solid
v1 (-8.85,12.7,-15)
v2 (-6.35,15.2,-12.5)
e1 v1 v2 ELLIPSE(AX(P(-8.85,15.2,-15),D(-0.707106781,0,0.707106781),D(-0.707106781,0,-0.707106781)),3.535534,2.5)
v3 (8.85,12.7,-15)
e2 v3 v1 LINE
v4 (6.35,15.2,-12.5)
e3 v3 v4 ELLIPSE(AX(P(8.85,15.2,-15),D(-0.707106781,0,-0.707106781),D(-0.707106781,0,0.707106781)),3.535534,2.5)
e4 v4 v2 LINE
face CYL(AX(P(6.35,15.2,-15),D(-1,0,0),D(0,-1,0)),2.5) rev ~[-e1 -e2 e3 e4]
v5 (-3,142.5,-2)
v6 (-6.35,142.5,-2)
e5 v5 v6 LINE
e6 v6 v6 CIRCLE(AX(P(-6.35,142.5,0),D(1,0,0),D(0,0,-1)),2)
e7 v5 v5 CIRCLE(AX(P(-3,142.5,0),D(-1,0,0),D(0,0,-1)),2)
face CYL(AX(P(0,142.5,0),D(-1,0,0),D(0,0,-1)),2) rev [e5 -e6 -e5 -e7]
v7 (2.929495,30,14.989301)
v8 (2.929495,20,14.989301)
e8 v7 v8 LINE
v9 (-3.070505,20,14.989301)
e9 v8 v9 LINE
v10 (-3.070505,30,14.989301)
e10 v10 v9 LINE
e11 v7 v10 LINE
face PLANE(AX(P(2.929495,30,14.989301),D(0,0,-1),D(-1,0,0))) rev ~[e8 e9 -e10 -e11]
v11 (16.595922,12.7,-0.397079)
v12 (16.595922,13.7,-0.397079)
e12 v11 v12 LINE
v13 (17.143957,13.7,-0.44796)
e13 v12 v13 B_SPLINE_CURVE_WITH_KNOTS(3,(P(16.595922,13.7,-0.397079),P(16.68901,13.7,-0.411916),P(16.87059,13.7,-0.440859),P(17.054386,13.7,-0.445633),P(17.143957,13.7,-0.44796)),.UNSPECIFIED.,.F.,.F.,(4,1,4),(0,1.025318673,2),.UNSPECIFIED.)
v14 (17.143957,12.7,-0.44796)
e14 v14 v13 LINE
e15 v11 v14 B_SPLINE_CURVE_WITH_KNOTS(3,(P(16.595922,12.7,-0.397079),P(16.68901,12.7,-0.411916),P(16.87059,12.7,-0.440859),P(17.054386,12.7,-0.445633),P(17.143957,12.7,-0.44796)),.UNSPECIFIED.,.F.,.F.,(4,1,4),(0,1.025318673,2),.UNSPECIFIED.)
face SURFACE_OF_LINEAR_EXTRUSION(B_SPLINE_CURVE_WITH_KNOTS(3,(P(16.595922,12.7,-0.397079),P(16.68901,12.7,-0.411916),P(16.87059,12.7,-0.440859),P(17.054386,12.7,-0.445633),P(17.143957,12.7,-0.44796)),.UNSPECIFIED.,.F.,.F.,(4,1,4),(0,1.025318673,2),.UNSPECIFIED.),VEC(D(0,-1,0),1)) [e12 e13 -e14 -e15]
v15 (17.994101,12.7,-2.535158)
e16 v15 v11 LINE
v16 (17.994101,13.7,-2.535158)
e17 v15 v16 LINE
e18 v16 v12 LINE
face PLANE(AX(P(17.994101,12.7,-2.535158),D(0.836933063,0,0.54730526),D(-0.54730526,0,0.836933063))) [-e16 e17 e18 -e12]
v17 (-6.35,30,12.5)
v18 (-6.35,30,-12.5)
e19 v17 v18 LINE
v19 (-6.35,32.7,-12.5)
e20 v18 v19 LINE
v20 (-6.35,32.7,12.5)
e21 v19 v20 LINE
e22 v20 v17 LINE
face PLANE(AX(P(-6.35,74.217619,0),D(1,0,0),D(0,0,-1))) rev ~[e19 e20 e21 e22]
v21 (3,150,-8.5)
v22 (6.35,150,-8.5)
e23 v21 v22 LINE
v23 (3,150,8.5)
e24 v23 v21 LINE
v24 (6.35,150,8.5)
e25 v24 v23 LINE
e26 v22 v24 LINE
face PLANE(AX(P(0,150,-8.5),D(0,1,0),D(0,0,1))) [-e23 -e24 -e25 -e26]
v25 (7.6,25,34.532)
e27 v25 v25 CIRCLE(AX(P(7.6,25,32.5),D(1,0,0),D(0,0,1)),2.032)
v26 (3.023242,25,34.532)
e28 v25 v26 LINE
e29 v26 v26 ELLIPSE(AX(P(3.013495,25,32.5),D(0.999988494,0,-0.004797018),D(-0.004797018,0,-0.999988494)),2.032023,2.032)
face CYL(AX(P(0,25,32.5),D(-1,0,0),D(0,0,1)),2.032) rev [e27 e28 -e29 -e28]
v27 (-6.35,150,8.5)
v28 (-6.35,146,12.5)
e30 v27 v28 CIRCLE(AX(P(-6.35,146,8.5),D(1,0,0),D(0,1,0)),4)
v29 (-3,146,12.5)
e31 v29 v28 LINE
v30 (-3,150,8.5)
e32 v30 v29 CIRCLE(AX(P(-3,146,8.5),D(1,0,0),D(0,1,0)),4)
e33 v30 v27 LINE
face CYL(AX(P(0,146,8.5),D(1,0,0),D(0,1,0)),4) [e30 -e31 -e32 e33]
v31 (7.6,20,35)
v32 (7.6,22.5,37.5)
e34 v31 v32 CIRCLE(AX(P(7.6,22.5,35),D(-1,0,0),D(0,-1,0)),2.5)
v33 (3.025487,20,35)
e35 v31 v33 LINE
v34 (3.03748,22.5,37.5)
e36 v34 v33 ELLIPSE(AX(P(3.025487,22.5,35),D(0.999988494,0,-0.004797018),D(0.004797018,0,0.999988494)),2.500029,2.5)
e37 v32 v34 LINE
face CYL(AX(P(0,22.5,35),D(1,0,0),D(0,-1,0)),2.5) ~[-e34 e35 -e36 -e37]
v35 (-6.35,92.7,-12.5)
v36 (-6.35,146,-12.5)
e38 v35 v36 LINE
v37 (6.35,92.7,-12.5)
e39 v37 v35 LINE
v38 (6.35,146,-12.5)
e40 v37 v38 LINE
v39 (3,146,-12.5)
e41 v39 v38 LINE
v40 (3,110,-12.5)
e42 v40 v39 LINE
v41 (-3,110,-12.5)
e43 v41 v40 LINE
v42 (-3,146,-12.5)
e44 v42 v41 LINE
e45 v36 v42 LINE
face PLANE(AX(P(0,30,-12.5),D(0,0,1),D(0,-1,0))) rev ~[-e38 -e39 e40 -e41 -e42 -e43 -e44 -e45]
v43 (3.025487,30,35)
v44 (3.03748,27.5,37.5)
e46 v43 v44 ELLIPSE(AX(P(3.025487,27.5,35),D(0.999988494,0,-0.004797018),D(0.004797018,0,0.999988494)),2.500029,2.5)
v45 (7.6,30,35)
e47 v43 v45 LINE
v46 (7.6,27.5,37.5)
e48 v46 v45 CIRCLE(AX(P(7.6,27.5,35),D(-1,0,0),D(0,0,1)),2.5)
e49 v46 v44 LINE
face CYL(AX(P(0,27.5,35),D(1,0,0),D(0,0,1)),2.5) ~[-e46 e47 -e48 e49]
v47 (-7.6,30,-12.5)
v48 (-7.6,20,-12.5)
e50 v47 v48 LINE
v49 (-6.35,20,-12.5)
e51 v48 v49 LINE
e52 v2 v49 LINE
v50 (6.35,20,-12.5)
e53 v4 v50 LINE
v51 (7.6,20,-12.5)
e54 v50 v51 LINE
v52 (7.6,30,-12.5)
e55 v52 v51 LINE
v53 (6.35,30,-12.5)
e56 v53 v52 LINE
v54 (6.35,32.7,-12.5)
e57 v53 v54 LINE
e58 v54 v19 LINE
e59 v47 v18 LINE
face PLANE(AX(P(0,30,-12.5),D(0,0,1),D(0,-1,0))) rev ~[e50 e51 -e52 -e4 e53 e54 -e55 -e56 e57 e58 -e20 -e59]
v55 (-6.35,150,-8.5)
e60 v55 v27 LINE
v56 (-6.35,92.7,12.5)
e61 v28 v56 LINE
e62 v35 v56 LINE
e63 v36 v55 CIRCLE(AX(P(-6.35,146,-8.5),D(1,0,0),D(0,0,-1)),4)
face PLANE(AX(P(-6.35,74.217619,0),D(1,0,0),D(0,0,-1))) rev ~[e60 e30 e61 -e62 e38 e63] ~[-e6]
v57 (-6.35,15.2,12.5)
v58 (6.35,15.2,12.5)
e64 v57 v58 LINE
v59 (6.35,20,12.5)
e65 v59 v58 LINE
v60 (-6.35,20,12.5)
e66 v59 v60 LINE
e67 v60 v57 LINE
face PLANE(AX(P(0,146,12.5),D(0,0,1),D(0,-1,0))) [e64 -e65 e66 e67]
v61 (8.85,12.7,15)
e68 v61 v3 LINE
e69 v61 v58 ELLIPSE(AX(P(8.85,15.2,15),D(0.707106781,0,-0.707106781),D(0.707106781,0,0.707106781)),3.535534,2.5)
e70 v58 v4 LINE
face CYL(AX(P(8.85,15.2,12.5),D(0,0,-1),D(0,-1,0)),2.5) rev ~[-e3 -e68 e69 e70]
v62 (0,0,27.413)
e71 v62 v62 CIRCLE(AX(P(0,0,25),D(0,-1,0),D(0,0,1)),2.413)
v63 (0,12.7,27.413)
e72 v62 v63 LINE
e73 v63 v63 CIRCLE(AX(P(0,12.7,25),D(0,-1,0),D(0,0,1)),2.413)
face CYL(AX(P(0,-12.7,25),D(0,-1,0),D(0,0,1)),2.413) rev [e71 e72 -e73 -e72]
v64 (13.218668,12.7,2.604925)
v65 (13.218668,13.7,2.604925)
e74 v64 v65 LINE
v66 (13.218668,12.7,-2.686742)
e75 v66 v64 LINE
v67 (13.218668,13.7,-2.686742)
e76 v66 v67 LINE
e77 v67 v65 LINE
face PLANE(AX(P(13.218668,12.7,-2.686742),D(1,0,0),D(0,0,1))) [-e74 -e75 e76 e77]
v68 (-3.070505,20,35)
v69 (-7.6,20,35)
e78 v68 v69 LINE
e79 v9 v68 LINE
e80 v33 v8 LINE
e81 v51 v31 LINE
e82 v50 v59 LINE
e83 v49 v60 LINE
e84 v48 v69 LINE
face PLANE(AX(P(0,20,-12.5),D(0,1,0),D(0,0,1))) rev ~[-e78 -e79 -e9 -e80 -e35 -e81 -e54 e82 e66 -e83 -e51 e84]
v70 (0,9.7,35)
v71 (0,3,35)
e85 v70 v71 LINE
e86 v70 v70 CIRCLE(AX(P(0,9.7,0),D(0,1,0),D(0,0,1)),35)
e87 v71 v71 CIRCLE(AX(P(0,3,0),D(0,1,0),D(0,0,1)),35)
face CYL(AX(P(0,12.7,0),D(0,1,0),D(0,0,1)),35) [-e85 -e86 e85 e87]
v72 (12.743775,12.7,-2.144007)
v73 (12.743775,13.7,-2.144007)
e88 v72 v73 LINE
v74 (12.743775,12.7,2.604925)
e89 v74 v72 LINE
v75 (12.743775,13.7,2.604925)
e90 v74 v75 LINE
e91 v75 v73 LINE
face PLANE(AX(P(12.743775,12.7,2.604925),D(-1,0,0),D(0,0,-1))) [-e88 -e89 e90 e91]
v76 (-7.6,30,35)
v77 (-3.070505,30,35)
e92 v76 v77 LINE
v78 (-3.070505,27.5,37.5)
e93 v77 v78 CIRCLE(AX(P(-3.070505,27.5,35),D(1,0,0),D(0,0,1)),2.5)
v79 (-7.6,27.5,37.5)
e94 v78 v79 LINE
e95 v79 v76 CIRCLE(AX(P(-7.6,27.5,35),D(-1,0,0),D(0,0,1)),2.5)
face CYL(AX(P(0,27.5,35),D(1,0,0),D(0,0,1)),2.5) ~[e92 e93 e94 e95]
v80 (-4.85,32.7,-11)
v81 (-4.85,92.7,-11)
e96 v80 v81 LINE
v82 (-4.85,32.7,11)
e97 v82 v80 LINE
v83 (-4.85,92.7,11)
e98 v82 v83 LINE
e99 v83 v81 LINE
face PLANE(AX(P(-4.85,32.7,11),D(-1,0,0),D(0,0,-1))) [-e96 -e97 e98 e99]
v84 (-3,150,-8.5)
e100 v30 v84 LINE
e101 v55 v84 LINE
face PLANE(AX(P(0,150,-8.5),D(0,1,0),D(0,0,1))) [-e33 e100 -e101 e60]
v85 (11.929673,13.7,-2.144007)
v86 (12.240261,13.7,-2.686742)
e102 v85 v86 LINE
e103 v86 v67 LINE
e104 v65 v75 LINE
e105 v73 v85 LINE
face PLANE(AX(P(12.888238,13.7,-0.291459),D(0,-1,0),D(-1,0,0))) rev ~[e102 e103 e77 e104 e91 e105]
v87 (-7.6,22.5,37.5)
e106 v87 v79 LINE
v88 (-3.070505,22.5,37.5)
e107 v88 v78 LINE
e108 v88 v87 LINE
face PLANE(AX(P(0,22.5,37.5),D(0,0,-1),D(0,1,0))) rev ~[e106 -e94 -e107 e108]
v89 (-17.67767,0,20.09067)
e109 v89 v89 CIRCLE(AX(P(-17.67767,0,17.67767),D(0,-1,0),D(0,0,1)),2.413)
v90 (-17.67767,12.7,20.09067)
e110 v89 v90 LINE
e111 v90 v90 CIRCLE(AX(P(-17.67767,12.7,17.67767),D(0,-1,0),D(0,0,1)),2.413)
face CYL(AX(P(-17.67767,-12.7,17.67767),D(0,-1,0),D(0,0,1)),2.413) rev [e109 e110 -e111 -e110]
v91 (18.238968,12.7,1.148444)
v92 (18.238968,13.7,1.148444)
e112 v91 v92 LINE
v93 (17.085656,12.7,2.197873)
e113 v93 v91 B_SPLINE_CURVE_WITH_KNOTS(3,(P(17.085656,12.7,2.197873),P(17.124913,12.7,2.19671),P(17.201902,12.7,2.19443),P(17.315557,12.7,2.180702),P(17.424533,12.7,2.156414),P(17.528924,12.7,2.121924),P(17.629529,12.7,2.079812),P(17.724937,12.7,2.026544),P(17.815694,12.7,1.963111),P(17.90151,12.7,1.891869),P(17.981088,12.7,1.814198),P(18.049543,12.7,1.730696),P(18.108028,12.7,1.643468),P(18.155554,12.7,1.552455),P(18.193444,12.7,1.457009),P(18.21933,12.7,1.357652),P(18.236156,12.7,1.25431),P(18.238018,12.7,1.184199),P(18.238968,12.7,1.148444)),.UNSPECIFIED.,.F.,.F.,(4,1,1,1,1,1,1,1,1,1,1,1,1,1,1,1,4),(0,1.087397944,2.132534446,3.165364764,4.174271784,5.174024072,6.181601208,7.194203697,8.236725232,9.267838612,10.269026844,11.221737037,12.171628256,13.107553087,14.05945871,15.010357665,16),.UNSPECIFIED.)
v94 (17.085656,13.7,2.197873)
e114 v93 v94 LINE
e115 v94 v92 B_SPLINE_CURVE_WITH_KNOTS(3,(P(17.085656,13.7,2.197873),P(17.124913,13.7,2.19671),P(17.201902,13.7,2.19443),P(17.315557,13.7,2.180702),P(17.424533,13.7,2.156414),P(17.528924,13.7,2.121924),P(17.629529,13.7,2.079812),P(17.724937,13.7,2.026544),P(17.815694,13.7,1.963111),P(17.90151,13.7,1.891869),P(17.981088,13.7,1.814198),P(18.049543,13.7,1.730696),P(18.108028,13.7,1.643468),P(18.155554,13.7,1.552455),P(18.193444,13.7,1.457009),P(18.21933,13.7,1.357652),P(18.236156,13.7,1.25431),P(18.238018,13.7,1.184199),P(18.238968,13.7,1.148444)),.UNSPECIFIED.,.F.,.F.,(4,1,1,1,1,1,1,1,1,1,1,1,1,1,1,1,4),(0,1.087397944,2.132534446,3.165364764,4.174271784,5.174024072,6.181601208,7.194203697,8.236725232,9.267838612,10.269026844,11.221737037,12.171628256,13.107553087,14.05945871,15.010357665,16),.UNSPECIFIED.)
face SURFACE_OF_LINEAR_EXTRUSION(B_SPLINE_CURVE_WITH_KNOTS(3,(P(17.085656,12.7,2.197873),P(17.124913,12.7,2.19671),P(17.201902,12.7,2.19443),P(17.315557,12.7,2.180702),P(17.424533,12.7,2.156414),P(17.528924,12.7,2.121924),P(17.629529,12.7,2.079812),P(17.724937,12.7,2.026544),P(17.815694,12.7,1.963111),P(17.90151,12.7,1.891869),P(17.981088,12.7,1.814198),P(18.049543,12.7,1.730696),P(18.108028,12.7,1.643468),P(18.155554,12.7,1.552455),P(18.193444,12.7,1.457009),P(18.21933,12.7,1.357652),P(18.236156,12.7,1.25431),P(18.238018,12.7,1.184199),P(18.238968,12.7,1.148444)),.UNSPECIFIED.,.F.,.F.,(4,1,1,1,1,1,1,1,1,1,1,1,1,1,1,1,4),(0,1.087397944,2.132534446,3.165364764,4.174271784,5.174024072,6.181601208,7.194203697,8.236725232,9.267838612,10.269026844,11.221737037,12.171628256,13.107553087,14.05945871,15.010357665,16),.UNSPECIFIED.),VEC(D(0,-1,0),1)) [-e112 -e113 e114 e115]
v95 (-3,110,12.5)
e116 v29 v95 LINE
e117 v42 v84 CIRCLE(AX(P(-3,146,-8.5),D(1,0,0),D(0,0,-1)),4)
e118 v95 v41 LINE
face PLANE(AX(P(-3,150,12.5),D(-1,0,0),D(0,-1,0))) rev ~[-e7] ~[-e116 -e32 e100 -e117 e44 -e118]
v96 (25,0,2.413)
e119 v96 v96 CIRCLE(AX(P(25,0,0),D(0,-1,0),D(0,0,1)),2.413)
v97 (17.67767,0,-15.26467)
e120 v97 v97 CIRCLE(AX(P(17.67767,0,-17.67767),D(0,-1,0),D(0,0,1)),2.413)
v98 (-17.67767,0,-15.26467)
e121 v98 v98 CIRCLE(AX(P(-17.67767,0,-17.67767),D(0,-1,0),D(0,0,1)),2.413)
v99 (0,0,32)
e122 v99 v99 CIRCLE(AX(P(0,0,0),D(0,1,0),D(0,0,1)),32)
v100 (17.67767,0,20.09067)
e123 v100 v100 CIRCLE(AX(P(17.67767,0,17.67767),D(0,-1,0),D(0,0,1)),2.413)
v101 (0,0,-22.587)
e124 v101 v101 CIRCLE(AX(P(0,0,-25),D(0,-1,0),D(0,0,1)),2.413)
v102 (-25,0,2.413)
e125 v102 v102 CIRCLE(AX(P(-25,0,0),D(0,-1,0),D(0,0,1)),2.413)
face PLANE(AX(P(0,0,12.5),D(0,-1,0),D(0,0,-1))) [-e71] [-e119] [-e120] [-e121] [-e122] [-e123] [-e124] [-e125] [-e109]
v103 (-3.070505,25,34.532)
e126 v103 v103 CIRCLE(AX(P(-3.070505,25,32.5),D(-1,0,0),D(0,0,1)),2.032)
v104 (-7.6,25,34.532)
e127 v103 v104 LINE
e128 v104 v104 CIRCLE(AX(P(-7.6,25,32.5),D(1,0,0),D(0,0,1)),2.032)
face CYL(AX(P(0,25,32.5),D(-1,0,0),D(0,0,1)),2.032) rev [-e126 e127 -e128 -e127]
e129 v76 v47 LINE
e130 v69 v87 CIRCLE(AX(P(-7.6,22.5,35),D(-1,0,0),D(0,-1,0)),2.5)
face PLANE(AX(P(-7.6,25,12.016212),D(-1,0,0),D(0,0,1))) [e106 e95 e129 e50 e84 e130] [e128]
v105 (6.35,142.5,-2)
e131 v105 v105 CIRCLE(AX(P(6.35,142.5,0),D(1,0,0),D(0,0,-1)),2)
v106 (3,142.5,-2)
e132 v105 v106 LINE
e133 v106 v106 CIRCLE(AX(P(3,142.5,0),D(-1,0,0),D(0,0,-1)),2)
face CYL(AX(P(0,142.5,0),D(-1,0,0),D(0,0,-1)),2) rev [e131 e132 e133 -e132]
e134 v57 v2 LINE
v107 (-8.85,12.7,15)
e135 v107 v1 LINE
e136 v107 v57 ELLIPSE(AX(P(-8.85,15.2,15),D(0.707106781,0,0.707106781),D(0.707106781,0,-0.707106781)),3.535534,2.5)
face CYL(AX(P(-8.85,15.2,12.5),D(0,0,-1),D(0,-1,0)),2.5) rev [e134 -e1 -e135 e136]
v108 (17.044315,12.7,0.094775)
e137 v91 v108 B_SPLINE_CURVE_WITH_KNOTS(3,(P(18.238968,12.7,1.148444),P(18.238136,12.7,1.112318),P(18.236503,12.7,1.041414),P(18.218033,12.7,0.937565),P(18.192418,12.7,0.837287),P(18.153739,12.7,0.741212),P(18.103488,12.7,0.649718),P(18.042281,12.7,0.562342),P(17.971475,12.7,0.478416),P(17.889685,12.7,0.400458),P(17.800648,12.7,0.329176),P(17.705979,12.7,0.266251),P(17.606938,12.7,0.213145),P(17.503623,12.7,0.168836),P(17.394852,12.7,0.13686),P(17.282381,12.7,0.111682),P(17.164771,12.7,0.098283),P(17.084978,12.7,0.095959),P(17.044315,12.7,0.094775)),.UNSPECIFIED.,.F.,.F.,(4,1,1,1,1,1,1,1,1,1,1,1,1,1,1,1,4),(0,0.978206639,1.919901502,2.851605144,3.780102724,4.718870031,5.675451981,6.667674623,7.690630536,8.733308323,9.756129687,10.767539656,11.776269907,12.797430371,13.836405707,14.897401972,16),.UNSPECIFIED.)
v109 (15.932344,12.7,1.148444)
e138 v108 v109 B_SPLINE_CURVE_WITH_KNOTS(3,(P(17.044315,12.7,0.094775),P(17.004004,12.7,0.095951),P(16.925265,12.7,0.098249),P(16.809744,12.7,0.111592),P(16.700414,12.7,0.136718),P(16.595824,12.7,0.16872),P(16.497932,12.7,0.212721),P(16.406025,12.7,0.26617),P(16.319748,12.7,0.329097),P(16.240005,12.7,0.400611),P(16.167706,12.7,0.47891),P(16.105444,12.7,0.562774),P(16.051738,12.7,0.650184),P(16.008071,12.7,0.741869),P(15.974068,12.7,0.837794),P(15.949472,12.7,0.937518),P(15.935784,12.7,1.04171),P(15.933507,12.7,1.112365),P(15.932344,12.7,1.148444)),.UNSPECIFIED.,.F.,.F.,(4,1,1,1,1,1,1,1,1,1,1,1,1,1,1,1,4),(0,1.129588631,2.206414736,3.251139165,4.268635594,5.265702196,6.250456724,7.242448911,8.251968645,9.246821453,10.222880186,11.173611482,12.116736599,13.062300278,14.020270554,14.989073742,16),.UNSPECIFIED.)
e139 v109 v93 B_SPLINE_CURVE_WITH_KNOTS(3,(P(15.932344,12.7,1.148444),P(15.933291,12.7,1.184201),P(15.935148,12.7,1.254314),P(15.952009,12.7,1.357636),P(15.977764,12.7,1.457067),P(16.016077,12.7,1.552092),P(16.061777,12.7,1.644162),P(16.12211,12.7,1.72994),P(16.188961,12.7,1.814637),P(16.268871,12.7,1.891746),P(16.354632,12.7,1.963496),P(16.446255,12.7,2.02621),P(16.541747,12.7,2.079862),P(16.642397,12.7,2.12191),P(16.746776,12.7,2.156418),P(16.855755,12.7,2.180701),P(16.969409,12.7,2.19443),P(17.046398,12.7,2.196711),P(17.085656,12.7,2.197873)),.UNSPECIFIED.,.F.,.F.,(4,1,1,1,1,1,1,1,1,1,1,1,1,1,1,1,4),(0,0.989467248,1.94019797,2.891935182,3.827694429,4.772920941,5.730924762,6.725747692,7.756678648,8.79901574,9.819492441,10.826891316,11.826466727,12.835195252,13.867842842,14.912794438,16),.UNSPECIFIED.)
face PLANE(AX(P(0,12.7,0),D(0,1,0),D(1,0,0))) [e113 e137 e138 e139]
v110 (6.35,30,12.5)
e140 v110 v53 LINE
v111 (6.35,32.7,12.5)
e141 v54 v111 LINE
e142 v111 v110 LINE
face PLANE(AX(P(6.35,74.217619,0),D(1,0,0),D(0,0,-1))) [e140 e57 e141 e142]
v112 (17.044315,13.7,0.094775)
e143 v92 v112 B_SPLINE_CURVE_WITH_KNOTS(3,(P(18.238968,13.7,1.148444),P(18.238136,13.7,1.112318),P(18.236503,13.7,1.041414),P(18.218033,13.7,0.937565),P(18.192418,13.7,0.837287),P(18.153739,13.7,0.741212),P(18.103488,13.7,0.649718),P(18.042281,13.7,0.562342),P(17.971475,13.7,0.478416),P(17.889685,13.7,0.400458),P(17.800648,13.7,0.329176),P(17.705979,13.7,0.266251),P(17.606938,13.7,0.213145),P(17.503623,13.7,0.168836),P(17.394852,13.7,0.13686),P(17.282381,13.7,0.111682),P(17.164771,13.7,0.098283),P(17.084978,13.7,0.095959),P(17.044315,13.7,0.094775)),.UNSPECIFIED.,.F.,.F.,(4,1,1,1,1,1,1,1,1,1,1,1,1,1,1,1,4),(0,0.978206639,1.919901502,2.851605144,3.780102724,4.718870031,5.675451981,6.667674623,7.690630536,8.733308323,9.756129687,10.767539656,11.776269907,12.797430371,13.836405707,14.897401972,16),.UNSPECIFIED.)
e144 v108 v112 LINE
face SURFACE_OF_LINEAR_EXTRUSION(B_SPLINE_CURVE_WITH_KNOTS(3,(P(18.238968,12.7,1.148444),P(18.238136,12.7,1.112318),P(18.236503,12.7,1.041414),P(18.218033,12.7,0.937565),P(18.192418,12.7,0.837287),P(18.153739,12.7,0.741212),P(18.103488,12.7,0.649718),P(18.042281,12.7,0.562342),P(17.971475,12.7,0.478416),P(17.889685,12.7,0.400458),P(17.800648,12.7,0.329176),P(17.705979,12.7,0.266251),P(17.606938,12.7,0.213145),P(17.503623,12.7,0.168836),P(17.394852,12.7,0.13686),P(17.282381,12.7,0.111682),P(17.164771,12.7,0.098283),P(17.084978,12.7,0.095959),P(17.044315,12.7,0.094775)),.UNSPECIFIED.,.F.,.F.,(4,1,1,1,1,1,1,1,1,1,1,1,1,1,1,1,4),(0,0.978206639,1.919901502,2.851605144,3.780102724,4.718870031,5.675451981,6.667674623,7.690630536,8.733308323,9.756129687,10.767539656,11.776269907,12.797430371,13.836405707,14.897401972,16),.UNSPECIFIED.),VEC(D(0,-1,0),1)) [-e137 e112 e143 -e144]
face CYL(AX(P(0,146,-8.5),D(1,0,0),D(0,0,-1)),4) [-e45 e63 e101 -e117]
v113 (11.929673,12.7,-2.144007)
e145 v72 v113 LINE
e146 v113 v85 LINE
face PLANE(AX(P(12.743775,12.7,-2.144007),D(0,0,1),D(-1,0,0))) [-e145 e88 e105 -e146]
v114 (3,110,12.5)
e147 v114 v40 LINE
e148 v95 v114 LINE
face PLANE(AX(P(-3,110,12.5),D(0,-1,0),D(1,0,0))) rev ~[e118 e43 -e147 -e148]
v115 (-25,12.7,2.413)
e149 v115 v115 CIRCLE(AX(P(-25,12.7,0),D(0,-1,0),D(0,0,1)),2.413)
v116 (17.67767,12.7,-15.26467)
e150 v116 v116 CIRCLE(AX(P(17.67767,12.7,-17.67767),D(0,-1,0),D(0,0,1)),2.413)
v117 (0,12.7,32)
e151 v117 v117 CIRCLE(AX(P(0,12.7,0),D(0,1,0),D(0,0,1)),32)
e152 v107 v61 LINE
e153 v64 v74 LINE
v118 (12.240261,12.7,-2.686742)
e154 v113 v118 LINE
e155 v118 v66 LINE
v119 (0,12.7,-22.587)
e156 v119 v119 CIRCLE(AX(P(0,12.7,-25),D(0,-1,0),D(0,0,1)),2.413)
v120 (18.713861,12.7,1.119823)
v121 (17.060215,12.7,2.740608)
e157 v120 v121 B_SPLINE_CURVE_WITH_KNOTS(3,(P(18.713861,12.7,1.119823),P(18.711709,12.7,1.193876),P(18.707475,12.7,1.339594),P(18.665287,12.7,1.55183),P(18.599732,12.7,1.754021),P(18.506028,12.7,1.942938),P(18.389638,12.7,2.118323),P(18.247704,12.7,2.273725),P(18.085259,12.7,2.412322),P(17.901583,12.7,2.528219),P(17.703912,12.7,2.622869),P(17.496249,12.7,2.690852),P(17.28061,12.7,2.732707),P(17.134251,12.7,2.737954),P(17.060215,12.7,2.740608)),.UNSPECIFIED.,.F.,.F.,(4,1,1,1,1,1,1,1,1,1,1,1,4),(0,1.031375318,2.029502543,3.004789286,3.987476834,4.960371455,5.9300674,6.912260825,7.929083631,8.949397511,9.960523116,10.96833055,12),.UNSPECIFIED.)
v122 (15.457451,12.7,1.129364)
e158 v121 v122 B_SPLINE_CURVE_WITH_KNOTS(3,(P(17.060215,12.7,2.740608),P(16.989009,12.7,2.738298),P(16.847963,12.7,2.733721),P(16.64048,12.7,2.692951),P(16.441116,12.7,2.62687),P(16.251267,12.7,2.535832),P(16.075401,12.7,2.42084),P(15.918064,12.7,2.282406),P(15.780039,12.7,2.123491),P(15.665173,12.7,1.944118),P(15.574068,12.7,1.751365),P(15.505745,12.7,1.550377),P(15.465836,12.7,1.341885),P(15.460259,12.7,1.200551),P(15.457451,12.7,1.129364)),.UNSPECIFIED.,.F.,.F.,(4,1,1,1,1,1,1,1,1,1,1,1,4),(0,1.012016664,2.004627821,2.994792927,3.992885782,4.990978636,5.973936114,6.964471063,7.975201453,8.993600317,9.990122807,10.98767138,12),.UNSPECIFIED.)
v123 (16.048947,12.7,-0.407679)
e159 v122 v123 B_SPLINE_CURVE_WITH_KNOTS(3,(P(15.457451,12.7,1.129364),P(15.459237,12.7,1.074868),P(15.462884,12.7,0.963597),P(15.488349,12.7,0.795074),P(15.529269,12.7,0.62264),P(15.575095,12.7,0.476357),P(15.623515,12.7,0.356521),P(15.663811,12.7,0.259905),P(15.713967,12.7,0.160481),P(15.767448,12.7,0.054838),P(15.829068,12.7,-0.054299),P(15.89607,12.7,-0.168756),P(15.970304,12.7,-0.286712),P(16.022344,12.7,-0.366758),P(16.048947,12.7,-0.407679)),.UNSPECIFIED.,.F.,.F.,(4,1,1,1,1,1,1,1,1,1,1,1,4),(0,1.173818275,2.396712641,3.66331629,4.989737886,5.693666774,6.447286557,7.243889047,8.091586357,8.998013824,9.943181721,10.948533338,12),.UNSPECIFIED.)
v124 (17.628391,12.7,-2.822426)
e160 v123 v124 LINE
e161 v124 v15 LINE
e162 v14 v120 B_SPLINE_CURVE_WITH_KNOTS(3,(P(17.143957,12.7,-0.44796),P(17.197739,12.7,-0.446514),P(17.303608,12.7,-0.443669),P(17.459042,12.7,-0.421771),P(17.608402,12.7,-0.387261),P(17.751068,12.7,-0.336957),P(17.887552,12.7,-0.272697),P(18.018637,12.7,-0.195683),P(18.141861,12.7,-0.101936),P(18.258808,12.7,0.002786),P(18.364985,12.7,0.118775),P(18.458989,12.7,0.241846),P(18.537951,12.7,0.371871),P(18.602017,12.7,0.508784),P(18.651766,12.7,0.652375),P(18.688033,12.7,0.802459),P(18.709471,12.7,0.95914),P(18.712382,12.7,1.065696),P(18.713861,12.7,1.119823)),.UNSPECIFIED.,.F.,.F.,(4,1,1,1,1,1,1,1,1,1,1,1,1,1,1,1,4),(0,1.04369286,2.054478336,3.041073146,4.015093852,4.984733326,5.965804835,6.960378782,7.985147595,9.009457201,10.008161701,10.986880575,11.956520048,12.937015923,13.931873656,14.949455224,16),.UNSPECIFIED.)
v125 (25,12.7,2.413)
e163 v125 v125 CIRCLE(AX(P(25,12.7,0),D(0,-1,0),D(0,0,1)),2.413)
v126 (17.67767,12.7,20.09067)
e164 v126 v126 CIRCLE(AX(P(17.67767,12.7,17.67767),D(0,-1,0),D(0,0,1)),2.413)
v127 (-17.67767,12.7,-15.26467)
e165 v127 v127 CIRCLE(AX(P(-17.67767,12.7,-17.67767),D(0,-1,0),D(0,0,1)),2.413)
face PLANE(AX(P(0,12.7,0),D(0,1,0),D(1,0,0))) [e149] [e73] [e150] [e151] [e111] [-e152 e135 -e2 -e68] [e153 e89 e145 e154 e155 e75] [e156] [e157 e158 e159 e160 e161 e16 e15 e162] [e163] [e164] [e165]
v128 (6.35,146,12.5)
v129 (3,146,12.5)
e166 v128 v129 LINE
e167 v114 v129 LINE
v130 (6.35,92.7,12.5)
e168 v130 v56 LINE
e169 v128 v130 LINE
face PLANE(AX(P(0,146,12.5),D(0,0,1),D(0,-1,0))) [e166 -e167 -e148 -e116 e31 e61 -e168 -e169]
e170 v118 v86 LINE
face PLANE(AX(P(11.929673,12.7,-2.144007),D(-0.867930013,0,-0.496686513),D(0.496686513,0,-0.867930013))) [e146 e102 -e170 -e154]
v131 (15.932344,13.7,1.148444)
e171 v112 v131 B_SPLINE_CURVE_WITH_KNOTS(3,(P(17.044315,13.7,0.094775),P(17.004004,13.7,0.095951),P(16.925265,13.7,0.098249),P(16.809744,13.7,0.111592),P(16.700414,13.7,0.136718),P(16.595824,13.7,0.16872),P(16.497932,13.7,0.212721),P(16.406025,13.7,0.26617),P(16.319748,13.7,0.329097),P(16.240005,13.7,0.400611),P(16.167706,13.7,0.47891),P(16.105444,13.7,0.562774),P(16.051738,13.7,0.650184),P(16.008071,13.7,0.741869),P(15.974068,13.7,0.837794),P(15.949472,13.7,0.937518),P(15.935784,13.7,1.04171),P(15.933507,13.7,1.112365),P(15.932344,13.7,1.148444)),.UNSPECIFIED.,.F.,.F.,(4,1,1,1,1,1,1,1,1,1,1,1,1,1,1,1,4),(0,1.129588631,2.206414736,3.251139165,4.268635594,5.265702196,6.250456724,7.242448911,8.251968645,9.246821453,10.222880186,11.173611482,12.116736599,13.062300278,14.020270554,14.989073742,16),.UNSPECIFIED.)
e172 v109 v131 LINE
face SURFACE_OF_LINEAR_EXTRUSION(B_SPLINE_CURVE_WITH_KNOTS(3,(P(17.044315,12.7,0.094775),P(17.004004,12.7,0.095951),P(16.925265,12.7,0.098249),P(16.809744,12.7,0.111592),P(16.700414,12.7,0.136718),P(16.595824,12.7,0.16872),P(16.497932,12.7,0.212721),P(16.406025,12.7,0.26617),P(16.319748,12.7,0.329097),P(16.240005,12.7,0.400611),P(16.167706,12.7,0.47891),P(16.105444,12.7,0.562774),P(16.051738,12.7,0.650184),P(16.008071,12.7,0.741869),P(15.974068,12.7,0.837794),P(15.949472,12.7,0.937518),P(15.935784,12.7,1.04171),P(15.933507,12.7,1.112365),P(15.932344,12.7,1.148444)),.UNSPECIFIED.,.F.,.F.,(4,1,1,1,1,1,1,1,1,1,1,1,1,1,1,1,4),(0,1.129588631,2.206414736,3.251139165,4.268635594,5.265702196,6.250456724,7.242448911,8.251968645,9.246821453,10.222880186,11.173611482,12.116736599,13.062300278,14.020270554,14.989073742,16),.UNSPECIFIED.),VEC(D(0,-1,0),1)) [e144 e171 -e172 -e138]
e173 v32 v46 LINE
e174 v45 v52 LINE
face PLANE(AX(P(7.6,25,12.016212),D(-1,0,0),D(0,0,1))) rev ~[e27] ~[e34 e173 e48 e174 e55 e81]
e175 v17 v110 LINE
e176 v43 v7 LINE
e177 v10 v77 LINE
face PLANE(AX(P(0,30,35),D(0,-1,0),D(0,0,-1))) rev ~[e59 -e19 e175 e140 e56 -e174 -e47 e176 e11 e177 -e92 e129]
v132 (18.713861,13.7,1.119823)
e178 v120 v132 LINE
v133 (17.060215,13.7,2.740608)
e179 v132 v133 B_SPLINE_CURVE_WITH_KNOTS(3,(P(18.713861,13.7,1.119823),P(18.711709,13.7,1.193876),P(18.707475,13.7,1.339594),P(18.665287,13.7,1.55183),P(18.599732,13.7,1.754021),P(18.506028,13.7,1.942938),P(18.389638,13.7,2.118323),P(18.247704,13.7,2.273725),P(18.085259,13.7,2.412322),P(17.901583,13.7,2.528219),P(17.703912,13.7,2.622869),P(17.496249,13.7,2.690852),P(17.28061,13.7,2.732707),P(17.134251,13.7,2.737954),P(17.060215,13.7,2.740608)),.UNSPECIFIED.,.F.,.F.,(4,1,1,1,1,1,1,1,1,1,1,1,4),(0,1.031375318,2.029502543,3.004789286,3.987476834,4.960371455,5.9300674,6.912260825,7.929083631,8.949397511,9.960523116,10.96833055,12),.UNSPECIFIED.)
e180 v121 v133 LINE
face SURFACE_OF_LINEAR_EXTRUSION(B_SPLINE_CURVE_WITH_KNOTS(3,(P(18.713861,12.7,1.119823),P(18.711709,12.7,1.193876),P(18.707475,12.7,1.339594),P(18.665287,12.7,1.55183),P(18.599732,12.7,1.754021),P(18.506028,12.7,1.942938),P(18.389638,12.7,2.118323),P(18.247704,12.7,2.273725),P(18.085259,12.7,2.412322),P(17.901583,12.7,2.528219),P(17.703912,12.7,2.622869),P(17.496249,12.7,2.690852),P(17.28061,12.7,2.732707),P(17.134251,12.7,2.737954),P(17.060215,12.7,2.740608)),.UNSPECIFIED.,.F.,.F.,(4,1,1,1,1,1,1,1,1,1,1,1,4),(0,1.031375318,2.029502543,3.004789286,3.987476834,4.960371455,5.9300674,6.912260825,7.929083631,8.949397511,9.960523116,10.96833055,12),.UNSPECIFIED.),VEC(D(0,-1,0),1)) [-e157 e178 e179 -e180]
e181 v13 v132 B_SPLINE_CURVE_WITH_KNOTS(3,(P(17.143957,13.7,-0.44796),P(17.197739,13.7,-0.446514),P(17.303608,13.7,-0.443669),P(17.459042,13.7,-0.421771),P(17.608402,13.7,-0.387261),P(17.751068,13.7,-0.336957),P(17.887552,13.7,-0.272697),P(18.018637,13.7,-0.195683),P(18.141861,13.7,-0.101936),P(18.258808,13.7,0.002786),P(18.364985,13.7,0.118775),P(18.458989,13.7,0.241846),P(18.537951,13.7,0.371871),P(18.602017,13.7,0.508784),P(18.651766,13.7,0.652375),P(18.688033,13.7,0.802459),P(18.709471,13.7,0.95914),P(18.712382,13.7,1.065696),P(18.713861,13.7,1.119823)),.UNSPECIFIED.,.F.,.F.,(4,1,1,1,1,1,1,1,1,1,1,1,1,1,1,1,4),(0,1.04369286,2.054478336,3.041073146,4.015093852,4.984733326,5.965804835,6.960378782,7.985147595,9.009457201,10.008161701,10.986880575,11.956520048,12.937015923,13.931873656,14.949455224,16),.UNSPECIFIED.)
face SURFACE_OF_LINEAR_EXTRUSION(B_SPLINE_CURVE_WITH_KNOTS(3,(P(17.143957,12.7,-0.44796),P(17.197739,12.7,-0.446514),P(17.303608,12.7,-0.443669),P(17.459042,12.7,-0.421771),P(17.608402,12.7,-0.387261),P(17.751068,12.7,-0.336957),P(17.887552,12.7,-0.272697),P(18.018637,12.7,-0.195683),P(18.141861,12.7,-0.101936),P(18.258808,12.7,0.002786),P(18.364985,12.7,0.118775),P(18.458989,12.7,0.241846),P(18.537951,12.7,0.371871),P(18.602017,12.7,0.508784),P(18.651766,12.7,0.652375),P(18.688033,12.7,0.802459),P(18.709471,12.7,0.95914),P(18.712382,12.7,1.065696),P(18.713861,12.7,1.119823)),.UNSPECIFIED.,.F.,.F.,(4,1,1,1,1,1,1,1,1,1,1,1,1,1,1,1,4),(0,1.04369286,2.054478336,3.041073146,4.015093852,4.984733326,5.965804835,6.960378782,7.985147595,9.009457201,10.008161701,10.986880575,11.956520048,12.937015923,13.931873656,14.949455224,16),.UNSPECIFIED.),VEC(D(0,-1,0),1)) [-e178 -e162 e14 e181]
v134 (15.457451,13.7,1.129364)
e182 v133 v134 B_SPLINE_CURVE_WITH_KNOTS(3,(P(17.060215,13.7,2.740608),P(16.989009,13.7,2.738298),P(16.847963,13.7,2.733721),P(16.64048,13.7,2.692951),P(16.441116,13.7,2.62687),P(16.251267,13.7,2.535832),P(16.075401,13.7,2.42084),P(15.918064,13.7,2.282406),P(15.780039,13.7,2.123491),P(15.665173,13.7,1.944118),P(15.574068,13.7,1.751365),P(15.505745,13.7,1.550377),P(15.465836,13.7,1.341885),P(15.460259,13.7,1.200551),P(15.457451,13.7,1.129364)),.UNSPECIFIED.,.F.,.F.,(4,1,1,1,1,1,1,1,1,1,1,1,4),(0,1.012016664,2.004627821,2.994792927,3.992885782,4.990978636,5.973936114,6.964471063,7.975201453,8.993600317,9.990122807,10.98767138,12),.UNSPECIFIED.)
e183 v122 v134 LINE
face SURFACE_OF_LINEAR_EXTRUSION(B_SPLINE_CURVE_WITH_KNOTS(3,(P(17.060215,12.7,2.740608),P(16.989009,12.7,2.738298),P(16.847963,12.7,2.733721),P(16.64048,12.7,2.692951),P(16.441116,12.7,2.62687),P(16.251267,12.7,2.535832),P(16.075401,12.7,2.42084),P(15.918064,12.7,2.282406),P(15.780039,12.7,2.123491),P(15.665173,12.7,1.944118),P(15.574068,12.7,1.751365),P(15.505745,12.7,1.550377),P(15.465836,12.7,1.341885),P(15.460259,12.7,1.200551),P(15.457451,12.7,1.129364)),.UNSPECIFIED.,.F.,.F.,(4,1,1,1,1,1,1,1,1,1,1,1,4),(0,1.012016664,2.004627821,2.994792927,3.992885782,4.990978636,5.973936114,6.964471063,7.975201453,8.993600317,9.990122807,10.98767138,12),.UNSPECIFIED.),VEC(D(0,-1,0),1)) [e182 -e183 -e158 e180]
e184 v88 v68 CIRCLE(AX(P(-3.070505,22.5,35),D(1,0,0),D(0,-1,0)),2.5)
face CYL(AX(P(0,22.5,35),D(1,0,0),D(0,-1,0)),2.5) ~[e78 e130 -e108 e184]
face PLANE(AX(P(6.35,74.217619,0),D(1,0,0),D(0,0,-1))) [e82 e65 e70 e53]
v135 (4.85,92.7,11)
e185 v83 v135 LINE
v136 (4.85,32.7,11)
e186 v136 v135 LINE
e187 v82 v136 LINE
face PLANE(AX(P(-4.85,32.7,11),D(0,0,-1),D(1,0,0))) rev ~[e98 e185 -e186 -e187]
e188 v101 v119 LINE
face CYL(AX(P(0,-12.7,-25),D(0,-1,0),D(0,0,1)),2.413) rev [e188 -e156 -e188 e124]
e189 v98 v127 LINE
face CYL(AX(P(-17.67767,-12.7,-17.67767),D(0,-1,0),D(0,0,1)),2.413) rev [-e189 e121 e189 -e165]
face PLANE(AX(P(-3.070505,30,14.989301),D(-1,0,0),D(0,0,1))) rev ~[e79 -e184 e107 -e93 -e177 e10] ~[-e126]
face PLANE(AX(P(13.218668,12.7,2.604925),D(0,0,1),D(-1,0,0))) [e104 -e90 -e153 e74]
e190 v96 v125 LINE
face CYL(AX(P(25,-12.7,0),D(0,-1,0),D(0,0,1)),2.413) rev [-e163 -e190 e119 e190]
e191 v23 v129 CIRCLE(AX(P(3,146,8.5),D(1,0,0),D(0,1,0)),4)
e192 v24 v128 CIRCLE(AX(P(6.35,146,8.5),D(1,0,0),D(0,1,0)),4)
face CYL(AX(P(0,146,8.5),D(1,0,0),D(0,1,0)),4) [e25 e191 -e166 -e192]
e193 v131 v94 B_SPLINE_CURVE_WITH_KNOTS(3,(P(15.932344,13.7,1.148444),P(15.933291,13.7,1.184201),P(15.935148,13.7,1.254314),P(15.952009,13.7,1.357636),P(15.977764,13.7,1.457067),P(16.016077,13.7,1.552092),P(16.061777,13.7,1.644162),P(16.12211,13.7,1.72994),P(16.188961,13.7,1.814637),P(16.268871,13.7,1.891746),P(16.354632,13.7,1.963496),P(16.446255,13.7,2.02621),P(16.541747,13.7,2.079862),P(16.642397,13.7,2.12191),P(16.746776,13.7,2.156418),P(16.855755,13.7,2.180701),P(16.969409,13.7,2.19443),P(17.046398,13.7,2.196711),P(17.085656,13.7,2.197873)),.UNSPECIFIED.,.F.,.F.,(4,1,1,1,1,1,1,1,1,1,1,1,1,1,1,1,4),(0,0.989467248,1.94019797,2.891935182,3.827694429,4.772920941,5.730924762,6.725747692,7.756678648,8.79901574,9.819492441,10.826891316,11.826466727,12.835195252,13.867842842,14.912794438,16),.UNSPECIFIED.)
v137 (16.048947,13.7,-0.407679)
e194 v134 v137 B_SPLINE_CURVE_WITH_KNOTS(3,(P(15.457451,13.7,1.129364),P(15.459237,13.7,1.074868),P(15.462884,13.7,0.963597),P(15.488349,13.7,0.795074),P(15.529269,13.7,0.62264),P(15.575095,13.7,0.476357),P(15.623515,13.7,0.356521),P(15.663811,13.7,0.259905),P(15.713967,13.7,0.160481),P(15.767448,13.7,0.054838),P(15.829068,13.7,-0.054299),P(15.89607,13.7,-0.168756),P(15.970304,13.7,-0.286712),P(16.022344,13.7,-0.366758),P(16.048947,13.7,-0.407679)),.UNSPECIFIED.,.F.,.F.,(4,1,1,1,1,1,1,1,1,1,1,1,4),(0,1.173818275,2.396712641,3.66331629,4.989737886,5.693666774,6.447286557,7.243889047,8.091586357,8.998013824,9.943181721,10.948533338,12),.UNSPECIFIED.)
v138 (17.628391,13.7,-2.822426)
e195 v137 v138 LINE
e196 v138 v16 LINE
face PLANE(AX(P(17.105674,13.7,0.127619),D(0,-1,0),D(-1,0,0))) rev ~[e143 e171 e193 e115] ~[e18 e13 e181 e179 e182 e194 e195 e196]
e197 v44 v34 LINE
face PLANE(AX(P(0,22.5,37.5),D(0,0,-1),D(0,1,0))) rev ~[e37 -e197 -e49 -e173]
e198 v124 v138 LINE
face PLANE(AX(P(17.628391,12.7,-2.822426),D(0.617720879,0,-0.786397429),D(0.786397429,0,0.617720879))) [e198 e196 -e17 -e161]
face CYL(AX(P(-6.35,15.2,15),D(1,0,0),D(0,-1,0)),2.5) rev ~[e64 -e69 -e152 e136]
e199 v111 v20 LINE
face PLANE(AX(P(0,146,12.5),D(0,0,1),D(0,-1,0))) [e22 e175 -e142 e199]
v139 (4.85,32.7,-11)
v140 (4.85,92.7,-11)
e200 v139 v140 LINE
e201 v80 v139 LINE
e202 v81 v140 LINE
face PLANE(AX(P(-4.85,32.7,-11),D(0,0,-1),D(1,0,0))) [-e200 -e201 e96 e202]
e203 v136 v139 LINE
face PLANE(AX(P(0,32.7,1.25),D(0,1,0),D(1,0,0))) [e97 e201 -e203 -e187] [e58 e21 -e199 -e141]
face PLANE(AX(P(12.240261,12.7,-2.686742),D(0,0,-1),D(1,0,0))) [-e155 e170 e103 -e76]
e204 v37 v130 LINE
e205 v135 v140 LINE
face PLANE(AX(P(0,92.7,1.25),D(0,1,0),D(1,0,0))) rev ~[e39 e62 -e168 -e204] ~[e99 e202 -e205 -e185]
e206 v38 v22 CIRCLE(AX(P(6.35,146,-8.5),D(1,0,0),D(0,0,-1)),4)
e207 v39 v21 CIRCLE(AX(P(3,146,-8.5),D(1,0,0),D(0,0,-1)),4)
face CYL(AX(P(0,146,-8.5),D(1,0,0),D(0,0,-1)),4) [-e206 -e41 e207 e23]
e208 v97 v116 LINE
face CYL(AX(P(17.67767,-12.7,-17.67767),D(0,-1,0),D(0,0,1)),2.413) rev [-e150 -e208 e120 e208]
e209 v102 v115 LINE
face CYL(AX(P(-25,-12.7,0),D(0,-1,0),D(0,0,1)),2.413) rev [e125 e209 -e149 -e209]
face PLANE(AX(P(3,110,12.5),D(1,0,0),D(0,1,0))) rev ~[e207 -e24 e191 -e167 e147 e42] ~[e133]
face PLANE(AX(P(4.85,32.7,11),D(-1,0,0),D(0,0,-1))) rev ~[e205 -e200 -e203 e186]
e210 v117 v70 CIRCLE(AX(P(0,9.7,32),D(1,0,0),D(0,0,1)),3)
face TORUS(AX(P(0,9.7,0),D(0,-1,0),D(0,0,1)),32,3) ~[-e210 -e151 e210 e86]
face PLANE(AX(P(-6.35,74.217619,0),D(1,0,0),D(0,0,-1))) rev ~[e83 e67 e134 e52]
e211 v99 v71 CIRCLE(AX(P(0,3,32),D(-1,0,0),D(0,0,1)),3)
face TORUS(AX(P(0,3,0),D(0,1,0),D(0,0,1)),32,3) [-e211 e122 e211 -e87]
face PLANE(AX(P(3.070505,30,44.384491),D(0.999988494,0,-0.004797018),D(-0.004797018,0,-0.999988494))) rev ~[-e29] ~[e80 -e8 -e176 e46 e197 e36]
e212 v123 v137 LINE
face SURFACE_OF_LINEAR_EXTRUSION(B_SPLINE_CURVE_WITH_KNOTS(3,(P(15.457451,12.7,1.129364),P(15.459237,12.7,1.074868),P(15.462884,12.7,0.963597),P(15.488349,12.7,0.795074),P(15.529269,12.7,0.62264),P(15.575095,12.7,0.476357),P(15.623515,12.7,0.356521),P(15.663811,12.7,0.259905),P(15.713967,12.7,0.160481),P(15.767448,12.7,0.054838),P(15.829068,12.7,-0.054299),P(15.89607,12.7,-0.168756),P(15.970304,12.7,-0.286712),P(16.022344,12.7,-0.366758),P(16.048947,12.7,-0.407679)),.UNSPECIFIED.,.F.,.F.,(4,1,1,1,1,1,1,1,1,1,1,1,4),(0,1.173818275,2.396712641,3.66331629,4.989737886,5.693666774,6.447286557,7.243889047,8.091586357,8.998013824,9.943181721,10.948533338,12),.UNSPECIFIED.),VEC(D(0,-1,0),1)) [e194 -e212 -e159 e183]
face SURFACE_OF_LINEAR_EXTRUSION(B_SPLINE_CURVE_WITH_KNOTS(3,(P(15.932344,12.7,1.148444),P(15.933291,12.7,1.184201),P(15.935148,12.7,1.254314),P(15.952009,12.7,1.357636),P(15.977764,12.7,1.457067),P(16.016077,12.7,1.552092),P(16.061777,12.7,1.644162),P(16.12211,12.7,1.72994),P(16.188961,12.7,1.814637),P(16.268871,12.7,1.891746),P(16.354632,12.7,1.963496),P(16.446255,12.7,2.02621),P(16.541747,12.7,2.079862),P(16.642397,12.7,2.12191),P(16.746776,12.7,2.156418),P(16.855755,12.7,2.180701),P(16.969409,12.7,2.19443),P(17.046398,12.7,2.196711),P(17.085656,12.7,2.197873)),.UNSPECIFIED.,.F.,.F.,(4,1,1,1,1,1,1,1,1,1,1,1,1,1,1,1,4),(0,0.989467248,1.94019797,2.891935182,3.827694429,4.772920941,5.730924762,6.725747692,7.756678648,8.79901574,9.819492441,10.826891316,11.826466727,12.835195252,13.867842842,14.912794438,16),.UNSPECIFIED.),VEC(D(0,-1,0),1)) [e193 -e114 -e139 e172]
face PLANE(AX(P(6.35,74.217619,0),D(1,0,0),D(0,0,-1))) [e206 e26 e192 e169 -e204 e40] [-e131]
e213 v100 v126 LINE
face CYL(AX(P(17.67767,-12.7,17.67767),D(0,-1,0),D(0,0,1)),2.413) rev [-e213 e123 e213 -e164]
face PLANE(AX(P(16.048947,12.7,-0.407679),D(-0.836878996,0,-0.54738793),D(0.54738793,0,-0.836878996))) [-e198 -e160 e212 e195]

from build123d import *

# Parameters (mm, degrees)
SKETCH1_W               = 70
SKETCH1_H               = 70
BOSS_EXTRUDE1_DEPTH     = 12.7
SKETCH2_R               = 2
BOSS_EXTRUDE2_DEPTH     = 6.35
CUT_EXTRUDE2_DEPTH      = 158.955689989
CUT_EXTRUDE2_DEPTH_BACK = 12.7
SKETCH3_R               = 2.413
SKETCH4_R               = 2.032
BOSS_EXTRUDE4_DEPTH     = 7.6
CUT_EXTRUDE3_DEPTH      = 12.45
SKETCH6_W               = 6
SKETCH6_H               = 36
SKETCH6_H_2             = 4
CUT_EXTRUDE4_DEPTH      = 162.187003198
BOSS_EXTRUDE5_DEPTH     = 1
SKETCH8_OUTSIDE_W       = 108.142
SKETCH8_OUTSIDE_H       = 110.642
SKETCH8_OUTSIDE_R       = 35
CUT_EXTRUDE5_DEPTH      = 147.569232812
FILLET2_R               = 3
CUT_EXTRUDE6_START      = 20
SKETCH9_OUTSIDE_W       = 108.142
SKETCH9_OUTSIDE_H       = 110.642
SKETCH9_OUTSIDE_W_2     = 9.7
SKETCH9_OUTSIDE_H_2     = 22
CUT_EXTRUDE6_DEPTH      = 60
FILLET1_R               = 2.5


with BuildPart() as part:
    # Sketch1 → Boss-Extrude1 (new body)
    with BuildSketch(Plane(origin=(0, 0, 0), x_dir=(1, 0, 0), z_dir=(0, 1, 0))):
        Rectangle(SKETCH1_W, SKETCH1_H)
    extrude(amount=BOSS_EXTRUDE1_DEPTH)

    # Sketch2 → Boss-Extrude2 (add, symmetric)
    with BuildSketch(Plane(origin=(0, 0, 0), x_dir=(0, 0, -1), z_dir=(1, 0, 0))):
        with BuildLine():
            Line((-12.5, 0), (12.5, 0))
            Line((12.5, 0), (12.5, 146))
            ThreePointArc((12.5, 146), (11.328427125, 148.828427125), (8.5, 150))
            Line((8.5, 150), (-8.5, 150))
            ThreePointArc((-8.5, 150), (-11.328427125, 148.828427125), (-12.5, 146))
            Line((-12.5, 146), (-12.5, 0))
        make_face()
        with Locations((0, 142.5)):
            Circle(SKETCH2_R, mode=Mode.SUBTRACT)
    extrude(amount=BOSS_EXTRUDE2_DEPTH, both=True)

    # Sketch3 → Cut-Extrude2 (cut, two sides: drawn at the far end of the back side and taken through both)
    with BuildSketch(Plane(origin=(0, 0, 0), x_dir=(1, 0, 0), z_dir=(0, 1, 0)).offset(-CUT_EXTRUDE2_DEPTH_BACK)):
        with Locations(Location((17.67766953, -17.67766953, 0), (0, 0, 270))):
            Circle(SKETCH3_R)
        with Locations(Location((25, 0, 0), (0, 0, 270))):
            Circle(SKETCH3_R)
        with Locations(Location((17.67766953, 17.67766953, 0), (0, 0, 270))):
            Circle(SKETCH3_R)
        with Locations(Location((0, 25, 0), (0, 0, 270))):
            Circle(SKETCH3_R)
        with Locations(Location((-17.67766953, 17.67766953, 0), (0, 0, 270))):
            Circle(SKETCH3_R)
        with Locations(Location((-25, 0, 0), (0, 0, 270))):
            Circle(SKETCH3_R)
        with Locations(Location((-17.67766953, -17.67766953, 0), (0, 0, 270))):
            Circle(SKETCH3_R)
        with Locations(Location((0, -25, 0), (0, 0, 270))):
            Circle(SKETCH3_R)
    extrude(amount=CUT_EXTRUDE2_DEPTH + CUT_EXTRUDE2_DEPTH_BACK, mode=Mode.SUBTRACT)

    # Sketch4 → Boss-Extrude4 (add, symmetric)
    with BuildSketch(Plane(origin=(0, 0, 0), x_dir=(0, 0, -1), z_dir=(1, 0, 0))):
        with BuildLine():
            Line((12.5, 20), (-35, 20))
            ThreePointArc((-35, 20), (-36.767766953, 20.732233047), (-37.5, 22.5))
            Line((-37.5, 22.5), (-37.5, 27.5))
            ThreePointArc((-37.5, 27.5), (-36.767766953, 29.267766953), (-35, 30))
            Line((-35, 30), (12.5, 30))
            Line((12.5, 30), (12.5, 20))
        make_face()
        with Locations(Location((-32.5, 25, 0), (0, 0, 180))):
            Circle(SKETCH4_R, mode=Mode.SUBTRACT)
    extrude(amount=BOSS_EXTRUDE4_DEPTH, both=True)

    # Sketch5 → Cut-Extrude3 (cut)
    with BuildSketch(Plane(origin=(0, 30, 0), x_dir=(1, 0, 0), z_dir=(0, 1, 0))):
        Polygon((-3.070505438, -14.989300838), (-3.070505438, -44.384490964), (3.070505438, -44.384490964), (2.929494562, -14.989300838), align=None)
    extrude(amount=-CUT_EXTRUDE3_DEPTH, mode=Mode.SUBTRACT)

    # Sketch6 → Cut-Extrude4 (cut, through all)
    with BuildSketch(Plane.XY.offset(12.5)):
        with Locations((0, 128)):
            Rectangle(SKETCH6_W, SKETCH6_H)
        with Locations((0, 148)):
            Rectangle(SKETCH6_W, SKETCH6_H_2)
    extrude(amount=-CUT_EXTRUDE4_DEPTH, mode=Mode.SUBTRACT)

    # Sketch7 → Boss-Extrude5 (add)
    # profile 1 of 2: a face of its own
    with BuildSketch(Plane(origin=(0, 12.7, 0), x_dir=(1, 0, 0), z_dir=(0, 1, 0))):
        Polygon((12.240261351, 2.686742079), (13.218668469, 2.686742079), (13.218668469, -2.604924587), (12.743775307, -2.604924587), (12.743775307, 2.144007037), (11.929672742, 2.144007037), align=None)
    # profile 2 of 2: a face of its own
    with BuildSketch(Plane(origin=(0, 12.7, 0), x_dir=(1, 0, 0), z_dir=(0, 1, 0))):
        with BuildLine():
            Line((17.628390691, 2.82242584), (17.994100827, 2.535157878))
            Line((17.994100827, 2.535157878), (16.595922075, 0.397078618))
            add(Edge.make_bspline(
                [(16.595922075, 0.397078618), (16.68901047, 0.411916241), (16.870589909, 0.440858701), (17.05438597, 0.445633214), (17.143957264, 0.447960028)],
                knots=[0, 0, 0, 0, 1.025318673, 2, 2, 2, 2], degree=3))
            add(Edge.make_bspline(
                [(17.143957264, 0.447960028), (17.197739491, 0.446514478), (17.303608204, 0.443668956), (17.459042297, 0.421770754), (17.60840176, 0.387261358), (17.751067531, 0.336956876), (17.887551682, 0.272697364), (18.018637448, 0.195682644), (18.141860725, 0.10193596), (18.258808341, -0.002786056), (18.364985024, -0.118774831), (18.458989298, -0.241845899), (18.537951234, -0.371871041), (18.602016567, -0.508784397), (18.65176561, -0.652374921), (18.688032645, -0.802458894), (18.709470839, -0.959139809), (18.712381997, -1.065696098), (18.713860777, -1.119823425)],
                knots=[0, 0, 0, 0, 1.04369286, 2.054478336, 3.041073146, 4.015093852, 4.984733326, 5.965804835, 6.960378782, 7.985147595, 9.009457201, 10.008161701, 10.986880575, 11.956520048, 12.937015923, 13.931873656, 14.949455224, 16, 16, 16, 16], degree=3))
            add(Edge.make_bspline(
                [(18.713860777, -1.119823425), (18.711709178, -1.193876073), (18.70747534, -1.339594158), (18.665287458, -1.551830369), (18.599731804, -1.754021196), (18.506027684, -1.942938491), (18.389637653, -2.118323329), (18.247703673, -2.273725163), (18.085259352, -2.412321529), (17.901582883, -2.528219037), (17.703911973, -2.622868888), (17.496248834, -2.690852051), (17.280610172, -2.73270682), (17.134250824, -2.737954041), (17.060214943, -2.740608348)],
                knots=[0, 0, 0, 0, 1.031375318, 2.029502543, 3.004789286, 3.987476834, 4.960371455, 5.9300674, 6.912260825, 7.929083631, 8.949397511, 9.960523116, 10.96833055, 12, 12, 12, 12], degree=3))
            add(Edge.make_bspline(
                [(17.060214943, -2.740608348), (16.989009217, -2.738297846), (16.847963141, -2.733721147), (16.640480226, -2.692951218), (16.441115902, -2.626870241), (16.251266957, -2.535831986), (16.075401269, -2.420839711), (15.918063938, -2.282406265), (15.780039469, -2.123490764), (15.665173078, -1.944117858), (15.574067614, -1.751365184), (15.505744751, -1.550376865), (15.465836145, -1.341885226), (15.460259398, -1.200550646), (15.45745052, -1.12936369)],
                knots=[0, 0, 0, 0, 1.012016664, 2.004627821, 2.994792927, 3.992885782, 4.990978636, 5.973936114, 6.964471063, 7.975201453, 8.993600317, 9.990122807, 10.98767138, 12, 12, 12, 12], degree=3))
            add(Edge.make_bspline(
                [(15.45745052, -1.12936369), (15.459236753, -1.074867713), (15.462883898, -0.96359734), (15.4883495, -0.795074346), (15.529268892, -0.622639972), (15.575095098, -0.476356846), (15.62351477, -0.356520973), (15.663810872, -0.259904982), (15.713966794, -0.160480502), (15.767447978, -0.054838219), (15.829068482, 0.05429928), (15.896069523, 0.168756019), (15.970303519, 0.286711695), (16.022343527, 0.366758276), (16.048946914, 0.407678912)],
                knots=[0, 0, 0, 0, 1.173818275, 2.396712641, 3.66331629, 4.989737886, 5.693666774, 6.447286557, 7.243889047, 8.091586357, 8.998013824, 9.943181721, 10.948533338, 12, 12, 12, 12], degree=3))
            Line((16.048946914, 0.407678912), (17.628390691, 2.82242584))
        make_face()
        with BuildLine():
            add(Edge.make_bspline(
                [(17.044314503, -0.094775015), (17.004003728, -0.095951343), (16.925265074, -0.098249053), (16.80974434, -0.111591993), (16.700413591, -0.136718438), (16.595824353, -0.168719916), (16.497931993, -0.21272097), (16.406025056, -0.266169523), (16.319748133, -0.329096781), (16.240004906, -0.400611254), (16.167706129, -0.478909827), (16.105444181, -0.562774462), (16.051737695, -0.650184031), (16.008071136, -0.741868872), (15.974068283, -0.837793937), (15.949472237, -0.93751804), (15.935783828, -1.041709908), (15.933506549, -1.112365001), (15.932343683, -1.148444219)],
                knots=[0, 0, 0, 0, 1.129588631, 2.206414736, 3.251139165, 4.268635594, 5.265702196, 6.250456724, 7.242448911, 8.251968645, 9.246821453, 10.222880186, 11.173611482, 12.116736599, 13.062300278, 14.020270554, 14.989073742, 16, 16, 16, 16], degree=3))
            add(Edge.make_bspline(
                [(15.932343683, -1.148444219), (15.933290682, -1.184200736), (15.935147605, -1.254313943), (15.952008851, -1.357636274), (15.977764273, -1.457066552), (16.016076538, -1.552092184), (16.061776714, -1.644161617), (16.122109764, -1.729939965), (16.188961333, -1.814636976), (16.268871447, -1.891746343), (16.354631769, -1.96349624), (16.446255016, -2.026210432), (16.54174686, -2.079862147), (16.64239651, -2.121909878), (16.746775972, -2.156418026), (16.855754904, -2.180701453), (16.969409103, -2.194430343), (17.046398223, -2.196710588), (17.085655648, -2.197873305)],
                knots=[0, 0, 0, 0, 0.989467248, 1.94019797, 2.891935182, 3.827694429, 4.772920941, 5.730924762, 6.725747692, 7.756678648, 8.79901574, 9.819492441, 10.826891316, 11.826466727, 12.835195252, 13.867842842, 14.912794438, 16, 16, 16, 16], degree=3))
            add(Edge.make_bspline(
                [(17.085655648, -2.197873305), (17.124913009, -2.196710497), (17.201902004, -2.194430073), (17.315557116, -2.180702479), (17.424532669, -2.156414261), (17.528924415, -2.121923525), (17.629528721, -2.07981152), (17.72493705, -2.026544213), (17.81569381, -1.963110559), (17.901510431, -1.891868959), (17.981087933, -1.814198099), (18.049542867, -1.730696019), (18.108028231, -1.643468344), (18.155553728, -1.552454868), (18.193444014, -1.457009095), (18.219330042, -1.357651667), (18.236156467, -1.254309913), (18.238018175, -1.184199375), (18.238967614, -1.148444219)],
                knots=[0, 0, 0, 0, 1.087397944, 2.132534446, 3.165364764, 4.174271784, 5.174024072, 6.181601208, 7.194203697, 8.236725232, 9.267838612, 10.269026844, 11.221737037, 12.171628256, 13.107553087, 14.05945871, 15.010357665, 16, 16, 16, 16], degree=3))
            add(Edge.make_bspline(
                [(18.238967614, -1.148444219), (18.238135624, -1.112317933), (18.236502697, -1.041413784), (18.218033346, -0.937564647), (18.19241809, -0.837287252), (18.153738984, -0.741211829), (18.103488494, -0.64971751), (18.042281438, -0.562342114), (17.971475052, -0.478415755), (17.889684724, -0.4004577), (17.800648299, -0.329175808), (17.705979497, -0.266251003), (17.60693768, -0.213145383), (17.503623267, -0.168835836), (17.39485248, -0.136859845), (17.282381372, -0.111681728), (17.164771446, -0.098283201), (17.08497824, -0.095959305), (17.044314503, -0.094775015)],
                knots=[0, 0, 0, 0, 0.978206639, 1.919901502, 2.851605144, 3.780102724, 4.718870031, 5.675451981, 6.667674623, 7.690630536, 8.733308323, 9.756129687, 10.767539656, 11.776269907, 12.797430371, 13.836405707, 14.897401972, 16, 16, 16, 16], degree=3))
        make_face(mode=Mode.SUBTRACT)
    extrude(amount=BOSS_EXTRUDE5_DEPTH)

    # Sketch8 outside → Cut-Extrude5 (cut, through all)
    with BuildSketch(Plane(origin=(0, 12.7, 0), x_dir=(1, 0, 0), z_dir=(0, 1, 0))):
        with Locations((0, -1.25)):
            Rectangle(SKETCH8_OUTSIDE_W, SKETCH8_OUTSIDE_H)
        with Locations(Location((0, 0, 0), (0, 0, 270))):
            Circle(SKETCH8_OUTSIDE_R, mode=Mode.SUBTRACT)
    extrude(amount=-CUT_EXTRUDE5_DEPTH, mode=Mode.SUBTRACT)

    # Fillet2
    fillet2_edges = [part.edges().sort_by_distance(p)[0] for p in [
        (0, 0, -35),
        (0, 12.7, -35),
    ]]
    fillet(fillet2_edges, radius=FILLET2_R)

    # Sketch9 outside → Cut-Extrude6 (cut)
    with BuildSketch(Plane(origin=(0, 12.7, 0), x_dir=(1, 0, 0), z_dir=(0, 1, 0)).offset(CUT_EXTRUDE6_START)):
        with Locations((0, -1.25)):
            Rectangle(SKETCH9_OUTSIDE_W, SKETCH9_OUTSIDE_H)
        Rectangle(SKETCH9_OUTSIDE_W_2, SKETCH9_OUTSIDE_H_2, mode=Mode.SUBTRACT)
    extrude(amount=CUT_EXTRUDE6_DEPTH, mode=Mode.SUBTRACT)

    # Fillet1
    fillet1_edges = [part.edges().sort_by_distance(p)[0] for p in [
        (-6.35, 12.7, 0),
        (0, 12.7, 12.5),
        (0, 12.7, -12.5),
        (6.35, 12.7, 0),
    ]]
    fillet(fillet1_edges, radius=FILLET1_R)


solid = part.part
